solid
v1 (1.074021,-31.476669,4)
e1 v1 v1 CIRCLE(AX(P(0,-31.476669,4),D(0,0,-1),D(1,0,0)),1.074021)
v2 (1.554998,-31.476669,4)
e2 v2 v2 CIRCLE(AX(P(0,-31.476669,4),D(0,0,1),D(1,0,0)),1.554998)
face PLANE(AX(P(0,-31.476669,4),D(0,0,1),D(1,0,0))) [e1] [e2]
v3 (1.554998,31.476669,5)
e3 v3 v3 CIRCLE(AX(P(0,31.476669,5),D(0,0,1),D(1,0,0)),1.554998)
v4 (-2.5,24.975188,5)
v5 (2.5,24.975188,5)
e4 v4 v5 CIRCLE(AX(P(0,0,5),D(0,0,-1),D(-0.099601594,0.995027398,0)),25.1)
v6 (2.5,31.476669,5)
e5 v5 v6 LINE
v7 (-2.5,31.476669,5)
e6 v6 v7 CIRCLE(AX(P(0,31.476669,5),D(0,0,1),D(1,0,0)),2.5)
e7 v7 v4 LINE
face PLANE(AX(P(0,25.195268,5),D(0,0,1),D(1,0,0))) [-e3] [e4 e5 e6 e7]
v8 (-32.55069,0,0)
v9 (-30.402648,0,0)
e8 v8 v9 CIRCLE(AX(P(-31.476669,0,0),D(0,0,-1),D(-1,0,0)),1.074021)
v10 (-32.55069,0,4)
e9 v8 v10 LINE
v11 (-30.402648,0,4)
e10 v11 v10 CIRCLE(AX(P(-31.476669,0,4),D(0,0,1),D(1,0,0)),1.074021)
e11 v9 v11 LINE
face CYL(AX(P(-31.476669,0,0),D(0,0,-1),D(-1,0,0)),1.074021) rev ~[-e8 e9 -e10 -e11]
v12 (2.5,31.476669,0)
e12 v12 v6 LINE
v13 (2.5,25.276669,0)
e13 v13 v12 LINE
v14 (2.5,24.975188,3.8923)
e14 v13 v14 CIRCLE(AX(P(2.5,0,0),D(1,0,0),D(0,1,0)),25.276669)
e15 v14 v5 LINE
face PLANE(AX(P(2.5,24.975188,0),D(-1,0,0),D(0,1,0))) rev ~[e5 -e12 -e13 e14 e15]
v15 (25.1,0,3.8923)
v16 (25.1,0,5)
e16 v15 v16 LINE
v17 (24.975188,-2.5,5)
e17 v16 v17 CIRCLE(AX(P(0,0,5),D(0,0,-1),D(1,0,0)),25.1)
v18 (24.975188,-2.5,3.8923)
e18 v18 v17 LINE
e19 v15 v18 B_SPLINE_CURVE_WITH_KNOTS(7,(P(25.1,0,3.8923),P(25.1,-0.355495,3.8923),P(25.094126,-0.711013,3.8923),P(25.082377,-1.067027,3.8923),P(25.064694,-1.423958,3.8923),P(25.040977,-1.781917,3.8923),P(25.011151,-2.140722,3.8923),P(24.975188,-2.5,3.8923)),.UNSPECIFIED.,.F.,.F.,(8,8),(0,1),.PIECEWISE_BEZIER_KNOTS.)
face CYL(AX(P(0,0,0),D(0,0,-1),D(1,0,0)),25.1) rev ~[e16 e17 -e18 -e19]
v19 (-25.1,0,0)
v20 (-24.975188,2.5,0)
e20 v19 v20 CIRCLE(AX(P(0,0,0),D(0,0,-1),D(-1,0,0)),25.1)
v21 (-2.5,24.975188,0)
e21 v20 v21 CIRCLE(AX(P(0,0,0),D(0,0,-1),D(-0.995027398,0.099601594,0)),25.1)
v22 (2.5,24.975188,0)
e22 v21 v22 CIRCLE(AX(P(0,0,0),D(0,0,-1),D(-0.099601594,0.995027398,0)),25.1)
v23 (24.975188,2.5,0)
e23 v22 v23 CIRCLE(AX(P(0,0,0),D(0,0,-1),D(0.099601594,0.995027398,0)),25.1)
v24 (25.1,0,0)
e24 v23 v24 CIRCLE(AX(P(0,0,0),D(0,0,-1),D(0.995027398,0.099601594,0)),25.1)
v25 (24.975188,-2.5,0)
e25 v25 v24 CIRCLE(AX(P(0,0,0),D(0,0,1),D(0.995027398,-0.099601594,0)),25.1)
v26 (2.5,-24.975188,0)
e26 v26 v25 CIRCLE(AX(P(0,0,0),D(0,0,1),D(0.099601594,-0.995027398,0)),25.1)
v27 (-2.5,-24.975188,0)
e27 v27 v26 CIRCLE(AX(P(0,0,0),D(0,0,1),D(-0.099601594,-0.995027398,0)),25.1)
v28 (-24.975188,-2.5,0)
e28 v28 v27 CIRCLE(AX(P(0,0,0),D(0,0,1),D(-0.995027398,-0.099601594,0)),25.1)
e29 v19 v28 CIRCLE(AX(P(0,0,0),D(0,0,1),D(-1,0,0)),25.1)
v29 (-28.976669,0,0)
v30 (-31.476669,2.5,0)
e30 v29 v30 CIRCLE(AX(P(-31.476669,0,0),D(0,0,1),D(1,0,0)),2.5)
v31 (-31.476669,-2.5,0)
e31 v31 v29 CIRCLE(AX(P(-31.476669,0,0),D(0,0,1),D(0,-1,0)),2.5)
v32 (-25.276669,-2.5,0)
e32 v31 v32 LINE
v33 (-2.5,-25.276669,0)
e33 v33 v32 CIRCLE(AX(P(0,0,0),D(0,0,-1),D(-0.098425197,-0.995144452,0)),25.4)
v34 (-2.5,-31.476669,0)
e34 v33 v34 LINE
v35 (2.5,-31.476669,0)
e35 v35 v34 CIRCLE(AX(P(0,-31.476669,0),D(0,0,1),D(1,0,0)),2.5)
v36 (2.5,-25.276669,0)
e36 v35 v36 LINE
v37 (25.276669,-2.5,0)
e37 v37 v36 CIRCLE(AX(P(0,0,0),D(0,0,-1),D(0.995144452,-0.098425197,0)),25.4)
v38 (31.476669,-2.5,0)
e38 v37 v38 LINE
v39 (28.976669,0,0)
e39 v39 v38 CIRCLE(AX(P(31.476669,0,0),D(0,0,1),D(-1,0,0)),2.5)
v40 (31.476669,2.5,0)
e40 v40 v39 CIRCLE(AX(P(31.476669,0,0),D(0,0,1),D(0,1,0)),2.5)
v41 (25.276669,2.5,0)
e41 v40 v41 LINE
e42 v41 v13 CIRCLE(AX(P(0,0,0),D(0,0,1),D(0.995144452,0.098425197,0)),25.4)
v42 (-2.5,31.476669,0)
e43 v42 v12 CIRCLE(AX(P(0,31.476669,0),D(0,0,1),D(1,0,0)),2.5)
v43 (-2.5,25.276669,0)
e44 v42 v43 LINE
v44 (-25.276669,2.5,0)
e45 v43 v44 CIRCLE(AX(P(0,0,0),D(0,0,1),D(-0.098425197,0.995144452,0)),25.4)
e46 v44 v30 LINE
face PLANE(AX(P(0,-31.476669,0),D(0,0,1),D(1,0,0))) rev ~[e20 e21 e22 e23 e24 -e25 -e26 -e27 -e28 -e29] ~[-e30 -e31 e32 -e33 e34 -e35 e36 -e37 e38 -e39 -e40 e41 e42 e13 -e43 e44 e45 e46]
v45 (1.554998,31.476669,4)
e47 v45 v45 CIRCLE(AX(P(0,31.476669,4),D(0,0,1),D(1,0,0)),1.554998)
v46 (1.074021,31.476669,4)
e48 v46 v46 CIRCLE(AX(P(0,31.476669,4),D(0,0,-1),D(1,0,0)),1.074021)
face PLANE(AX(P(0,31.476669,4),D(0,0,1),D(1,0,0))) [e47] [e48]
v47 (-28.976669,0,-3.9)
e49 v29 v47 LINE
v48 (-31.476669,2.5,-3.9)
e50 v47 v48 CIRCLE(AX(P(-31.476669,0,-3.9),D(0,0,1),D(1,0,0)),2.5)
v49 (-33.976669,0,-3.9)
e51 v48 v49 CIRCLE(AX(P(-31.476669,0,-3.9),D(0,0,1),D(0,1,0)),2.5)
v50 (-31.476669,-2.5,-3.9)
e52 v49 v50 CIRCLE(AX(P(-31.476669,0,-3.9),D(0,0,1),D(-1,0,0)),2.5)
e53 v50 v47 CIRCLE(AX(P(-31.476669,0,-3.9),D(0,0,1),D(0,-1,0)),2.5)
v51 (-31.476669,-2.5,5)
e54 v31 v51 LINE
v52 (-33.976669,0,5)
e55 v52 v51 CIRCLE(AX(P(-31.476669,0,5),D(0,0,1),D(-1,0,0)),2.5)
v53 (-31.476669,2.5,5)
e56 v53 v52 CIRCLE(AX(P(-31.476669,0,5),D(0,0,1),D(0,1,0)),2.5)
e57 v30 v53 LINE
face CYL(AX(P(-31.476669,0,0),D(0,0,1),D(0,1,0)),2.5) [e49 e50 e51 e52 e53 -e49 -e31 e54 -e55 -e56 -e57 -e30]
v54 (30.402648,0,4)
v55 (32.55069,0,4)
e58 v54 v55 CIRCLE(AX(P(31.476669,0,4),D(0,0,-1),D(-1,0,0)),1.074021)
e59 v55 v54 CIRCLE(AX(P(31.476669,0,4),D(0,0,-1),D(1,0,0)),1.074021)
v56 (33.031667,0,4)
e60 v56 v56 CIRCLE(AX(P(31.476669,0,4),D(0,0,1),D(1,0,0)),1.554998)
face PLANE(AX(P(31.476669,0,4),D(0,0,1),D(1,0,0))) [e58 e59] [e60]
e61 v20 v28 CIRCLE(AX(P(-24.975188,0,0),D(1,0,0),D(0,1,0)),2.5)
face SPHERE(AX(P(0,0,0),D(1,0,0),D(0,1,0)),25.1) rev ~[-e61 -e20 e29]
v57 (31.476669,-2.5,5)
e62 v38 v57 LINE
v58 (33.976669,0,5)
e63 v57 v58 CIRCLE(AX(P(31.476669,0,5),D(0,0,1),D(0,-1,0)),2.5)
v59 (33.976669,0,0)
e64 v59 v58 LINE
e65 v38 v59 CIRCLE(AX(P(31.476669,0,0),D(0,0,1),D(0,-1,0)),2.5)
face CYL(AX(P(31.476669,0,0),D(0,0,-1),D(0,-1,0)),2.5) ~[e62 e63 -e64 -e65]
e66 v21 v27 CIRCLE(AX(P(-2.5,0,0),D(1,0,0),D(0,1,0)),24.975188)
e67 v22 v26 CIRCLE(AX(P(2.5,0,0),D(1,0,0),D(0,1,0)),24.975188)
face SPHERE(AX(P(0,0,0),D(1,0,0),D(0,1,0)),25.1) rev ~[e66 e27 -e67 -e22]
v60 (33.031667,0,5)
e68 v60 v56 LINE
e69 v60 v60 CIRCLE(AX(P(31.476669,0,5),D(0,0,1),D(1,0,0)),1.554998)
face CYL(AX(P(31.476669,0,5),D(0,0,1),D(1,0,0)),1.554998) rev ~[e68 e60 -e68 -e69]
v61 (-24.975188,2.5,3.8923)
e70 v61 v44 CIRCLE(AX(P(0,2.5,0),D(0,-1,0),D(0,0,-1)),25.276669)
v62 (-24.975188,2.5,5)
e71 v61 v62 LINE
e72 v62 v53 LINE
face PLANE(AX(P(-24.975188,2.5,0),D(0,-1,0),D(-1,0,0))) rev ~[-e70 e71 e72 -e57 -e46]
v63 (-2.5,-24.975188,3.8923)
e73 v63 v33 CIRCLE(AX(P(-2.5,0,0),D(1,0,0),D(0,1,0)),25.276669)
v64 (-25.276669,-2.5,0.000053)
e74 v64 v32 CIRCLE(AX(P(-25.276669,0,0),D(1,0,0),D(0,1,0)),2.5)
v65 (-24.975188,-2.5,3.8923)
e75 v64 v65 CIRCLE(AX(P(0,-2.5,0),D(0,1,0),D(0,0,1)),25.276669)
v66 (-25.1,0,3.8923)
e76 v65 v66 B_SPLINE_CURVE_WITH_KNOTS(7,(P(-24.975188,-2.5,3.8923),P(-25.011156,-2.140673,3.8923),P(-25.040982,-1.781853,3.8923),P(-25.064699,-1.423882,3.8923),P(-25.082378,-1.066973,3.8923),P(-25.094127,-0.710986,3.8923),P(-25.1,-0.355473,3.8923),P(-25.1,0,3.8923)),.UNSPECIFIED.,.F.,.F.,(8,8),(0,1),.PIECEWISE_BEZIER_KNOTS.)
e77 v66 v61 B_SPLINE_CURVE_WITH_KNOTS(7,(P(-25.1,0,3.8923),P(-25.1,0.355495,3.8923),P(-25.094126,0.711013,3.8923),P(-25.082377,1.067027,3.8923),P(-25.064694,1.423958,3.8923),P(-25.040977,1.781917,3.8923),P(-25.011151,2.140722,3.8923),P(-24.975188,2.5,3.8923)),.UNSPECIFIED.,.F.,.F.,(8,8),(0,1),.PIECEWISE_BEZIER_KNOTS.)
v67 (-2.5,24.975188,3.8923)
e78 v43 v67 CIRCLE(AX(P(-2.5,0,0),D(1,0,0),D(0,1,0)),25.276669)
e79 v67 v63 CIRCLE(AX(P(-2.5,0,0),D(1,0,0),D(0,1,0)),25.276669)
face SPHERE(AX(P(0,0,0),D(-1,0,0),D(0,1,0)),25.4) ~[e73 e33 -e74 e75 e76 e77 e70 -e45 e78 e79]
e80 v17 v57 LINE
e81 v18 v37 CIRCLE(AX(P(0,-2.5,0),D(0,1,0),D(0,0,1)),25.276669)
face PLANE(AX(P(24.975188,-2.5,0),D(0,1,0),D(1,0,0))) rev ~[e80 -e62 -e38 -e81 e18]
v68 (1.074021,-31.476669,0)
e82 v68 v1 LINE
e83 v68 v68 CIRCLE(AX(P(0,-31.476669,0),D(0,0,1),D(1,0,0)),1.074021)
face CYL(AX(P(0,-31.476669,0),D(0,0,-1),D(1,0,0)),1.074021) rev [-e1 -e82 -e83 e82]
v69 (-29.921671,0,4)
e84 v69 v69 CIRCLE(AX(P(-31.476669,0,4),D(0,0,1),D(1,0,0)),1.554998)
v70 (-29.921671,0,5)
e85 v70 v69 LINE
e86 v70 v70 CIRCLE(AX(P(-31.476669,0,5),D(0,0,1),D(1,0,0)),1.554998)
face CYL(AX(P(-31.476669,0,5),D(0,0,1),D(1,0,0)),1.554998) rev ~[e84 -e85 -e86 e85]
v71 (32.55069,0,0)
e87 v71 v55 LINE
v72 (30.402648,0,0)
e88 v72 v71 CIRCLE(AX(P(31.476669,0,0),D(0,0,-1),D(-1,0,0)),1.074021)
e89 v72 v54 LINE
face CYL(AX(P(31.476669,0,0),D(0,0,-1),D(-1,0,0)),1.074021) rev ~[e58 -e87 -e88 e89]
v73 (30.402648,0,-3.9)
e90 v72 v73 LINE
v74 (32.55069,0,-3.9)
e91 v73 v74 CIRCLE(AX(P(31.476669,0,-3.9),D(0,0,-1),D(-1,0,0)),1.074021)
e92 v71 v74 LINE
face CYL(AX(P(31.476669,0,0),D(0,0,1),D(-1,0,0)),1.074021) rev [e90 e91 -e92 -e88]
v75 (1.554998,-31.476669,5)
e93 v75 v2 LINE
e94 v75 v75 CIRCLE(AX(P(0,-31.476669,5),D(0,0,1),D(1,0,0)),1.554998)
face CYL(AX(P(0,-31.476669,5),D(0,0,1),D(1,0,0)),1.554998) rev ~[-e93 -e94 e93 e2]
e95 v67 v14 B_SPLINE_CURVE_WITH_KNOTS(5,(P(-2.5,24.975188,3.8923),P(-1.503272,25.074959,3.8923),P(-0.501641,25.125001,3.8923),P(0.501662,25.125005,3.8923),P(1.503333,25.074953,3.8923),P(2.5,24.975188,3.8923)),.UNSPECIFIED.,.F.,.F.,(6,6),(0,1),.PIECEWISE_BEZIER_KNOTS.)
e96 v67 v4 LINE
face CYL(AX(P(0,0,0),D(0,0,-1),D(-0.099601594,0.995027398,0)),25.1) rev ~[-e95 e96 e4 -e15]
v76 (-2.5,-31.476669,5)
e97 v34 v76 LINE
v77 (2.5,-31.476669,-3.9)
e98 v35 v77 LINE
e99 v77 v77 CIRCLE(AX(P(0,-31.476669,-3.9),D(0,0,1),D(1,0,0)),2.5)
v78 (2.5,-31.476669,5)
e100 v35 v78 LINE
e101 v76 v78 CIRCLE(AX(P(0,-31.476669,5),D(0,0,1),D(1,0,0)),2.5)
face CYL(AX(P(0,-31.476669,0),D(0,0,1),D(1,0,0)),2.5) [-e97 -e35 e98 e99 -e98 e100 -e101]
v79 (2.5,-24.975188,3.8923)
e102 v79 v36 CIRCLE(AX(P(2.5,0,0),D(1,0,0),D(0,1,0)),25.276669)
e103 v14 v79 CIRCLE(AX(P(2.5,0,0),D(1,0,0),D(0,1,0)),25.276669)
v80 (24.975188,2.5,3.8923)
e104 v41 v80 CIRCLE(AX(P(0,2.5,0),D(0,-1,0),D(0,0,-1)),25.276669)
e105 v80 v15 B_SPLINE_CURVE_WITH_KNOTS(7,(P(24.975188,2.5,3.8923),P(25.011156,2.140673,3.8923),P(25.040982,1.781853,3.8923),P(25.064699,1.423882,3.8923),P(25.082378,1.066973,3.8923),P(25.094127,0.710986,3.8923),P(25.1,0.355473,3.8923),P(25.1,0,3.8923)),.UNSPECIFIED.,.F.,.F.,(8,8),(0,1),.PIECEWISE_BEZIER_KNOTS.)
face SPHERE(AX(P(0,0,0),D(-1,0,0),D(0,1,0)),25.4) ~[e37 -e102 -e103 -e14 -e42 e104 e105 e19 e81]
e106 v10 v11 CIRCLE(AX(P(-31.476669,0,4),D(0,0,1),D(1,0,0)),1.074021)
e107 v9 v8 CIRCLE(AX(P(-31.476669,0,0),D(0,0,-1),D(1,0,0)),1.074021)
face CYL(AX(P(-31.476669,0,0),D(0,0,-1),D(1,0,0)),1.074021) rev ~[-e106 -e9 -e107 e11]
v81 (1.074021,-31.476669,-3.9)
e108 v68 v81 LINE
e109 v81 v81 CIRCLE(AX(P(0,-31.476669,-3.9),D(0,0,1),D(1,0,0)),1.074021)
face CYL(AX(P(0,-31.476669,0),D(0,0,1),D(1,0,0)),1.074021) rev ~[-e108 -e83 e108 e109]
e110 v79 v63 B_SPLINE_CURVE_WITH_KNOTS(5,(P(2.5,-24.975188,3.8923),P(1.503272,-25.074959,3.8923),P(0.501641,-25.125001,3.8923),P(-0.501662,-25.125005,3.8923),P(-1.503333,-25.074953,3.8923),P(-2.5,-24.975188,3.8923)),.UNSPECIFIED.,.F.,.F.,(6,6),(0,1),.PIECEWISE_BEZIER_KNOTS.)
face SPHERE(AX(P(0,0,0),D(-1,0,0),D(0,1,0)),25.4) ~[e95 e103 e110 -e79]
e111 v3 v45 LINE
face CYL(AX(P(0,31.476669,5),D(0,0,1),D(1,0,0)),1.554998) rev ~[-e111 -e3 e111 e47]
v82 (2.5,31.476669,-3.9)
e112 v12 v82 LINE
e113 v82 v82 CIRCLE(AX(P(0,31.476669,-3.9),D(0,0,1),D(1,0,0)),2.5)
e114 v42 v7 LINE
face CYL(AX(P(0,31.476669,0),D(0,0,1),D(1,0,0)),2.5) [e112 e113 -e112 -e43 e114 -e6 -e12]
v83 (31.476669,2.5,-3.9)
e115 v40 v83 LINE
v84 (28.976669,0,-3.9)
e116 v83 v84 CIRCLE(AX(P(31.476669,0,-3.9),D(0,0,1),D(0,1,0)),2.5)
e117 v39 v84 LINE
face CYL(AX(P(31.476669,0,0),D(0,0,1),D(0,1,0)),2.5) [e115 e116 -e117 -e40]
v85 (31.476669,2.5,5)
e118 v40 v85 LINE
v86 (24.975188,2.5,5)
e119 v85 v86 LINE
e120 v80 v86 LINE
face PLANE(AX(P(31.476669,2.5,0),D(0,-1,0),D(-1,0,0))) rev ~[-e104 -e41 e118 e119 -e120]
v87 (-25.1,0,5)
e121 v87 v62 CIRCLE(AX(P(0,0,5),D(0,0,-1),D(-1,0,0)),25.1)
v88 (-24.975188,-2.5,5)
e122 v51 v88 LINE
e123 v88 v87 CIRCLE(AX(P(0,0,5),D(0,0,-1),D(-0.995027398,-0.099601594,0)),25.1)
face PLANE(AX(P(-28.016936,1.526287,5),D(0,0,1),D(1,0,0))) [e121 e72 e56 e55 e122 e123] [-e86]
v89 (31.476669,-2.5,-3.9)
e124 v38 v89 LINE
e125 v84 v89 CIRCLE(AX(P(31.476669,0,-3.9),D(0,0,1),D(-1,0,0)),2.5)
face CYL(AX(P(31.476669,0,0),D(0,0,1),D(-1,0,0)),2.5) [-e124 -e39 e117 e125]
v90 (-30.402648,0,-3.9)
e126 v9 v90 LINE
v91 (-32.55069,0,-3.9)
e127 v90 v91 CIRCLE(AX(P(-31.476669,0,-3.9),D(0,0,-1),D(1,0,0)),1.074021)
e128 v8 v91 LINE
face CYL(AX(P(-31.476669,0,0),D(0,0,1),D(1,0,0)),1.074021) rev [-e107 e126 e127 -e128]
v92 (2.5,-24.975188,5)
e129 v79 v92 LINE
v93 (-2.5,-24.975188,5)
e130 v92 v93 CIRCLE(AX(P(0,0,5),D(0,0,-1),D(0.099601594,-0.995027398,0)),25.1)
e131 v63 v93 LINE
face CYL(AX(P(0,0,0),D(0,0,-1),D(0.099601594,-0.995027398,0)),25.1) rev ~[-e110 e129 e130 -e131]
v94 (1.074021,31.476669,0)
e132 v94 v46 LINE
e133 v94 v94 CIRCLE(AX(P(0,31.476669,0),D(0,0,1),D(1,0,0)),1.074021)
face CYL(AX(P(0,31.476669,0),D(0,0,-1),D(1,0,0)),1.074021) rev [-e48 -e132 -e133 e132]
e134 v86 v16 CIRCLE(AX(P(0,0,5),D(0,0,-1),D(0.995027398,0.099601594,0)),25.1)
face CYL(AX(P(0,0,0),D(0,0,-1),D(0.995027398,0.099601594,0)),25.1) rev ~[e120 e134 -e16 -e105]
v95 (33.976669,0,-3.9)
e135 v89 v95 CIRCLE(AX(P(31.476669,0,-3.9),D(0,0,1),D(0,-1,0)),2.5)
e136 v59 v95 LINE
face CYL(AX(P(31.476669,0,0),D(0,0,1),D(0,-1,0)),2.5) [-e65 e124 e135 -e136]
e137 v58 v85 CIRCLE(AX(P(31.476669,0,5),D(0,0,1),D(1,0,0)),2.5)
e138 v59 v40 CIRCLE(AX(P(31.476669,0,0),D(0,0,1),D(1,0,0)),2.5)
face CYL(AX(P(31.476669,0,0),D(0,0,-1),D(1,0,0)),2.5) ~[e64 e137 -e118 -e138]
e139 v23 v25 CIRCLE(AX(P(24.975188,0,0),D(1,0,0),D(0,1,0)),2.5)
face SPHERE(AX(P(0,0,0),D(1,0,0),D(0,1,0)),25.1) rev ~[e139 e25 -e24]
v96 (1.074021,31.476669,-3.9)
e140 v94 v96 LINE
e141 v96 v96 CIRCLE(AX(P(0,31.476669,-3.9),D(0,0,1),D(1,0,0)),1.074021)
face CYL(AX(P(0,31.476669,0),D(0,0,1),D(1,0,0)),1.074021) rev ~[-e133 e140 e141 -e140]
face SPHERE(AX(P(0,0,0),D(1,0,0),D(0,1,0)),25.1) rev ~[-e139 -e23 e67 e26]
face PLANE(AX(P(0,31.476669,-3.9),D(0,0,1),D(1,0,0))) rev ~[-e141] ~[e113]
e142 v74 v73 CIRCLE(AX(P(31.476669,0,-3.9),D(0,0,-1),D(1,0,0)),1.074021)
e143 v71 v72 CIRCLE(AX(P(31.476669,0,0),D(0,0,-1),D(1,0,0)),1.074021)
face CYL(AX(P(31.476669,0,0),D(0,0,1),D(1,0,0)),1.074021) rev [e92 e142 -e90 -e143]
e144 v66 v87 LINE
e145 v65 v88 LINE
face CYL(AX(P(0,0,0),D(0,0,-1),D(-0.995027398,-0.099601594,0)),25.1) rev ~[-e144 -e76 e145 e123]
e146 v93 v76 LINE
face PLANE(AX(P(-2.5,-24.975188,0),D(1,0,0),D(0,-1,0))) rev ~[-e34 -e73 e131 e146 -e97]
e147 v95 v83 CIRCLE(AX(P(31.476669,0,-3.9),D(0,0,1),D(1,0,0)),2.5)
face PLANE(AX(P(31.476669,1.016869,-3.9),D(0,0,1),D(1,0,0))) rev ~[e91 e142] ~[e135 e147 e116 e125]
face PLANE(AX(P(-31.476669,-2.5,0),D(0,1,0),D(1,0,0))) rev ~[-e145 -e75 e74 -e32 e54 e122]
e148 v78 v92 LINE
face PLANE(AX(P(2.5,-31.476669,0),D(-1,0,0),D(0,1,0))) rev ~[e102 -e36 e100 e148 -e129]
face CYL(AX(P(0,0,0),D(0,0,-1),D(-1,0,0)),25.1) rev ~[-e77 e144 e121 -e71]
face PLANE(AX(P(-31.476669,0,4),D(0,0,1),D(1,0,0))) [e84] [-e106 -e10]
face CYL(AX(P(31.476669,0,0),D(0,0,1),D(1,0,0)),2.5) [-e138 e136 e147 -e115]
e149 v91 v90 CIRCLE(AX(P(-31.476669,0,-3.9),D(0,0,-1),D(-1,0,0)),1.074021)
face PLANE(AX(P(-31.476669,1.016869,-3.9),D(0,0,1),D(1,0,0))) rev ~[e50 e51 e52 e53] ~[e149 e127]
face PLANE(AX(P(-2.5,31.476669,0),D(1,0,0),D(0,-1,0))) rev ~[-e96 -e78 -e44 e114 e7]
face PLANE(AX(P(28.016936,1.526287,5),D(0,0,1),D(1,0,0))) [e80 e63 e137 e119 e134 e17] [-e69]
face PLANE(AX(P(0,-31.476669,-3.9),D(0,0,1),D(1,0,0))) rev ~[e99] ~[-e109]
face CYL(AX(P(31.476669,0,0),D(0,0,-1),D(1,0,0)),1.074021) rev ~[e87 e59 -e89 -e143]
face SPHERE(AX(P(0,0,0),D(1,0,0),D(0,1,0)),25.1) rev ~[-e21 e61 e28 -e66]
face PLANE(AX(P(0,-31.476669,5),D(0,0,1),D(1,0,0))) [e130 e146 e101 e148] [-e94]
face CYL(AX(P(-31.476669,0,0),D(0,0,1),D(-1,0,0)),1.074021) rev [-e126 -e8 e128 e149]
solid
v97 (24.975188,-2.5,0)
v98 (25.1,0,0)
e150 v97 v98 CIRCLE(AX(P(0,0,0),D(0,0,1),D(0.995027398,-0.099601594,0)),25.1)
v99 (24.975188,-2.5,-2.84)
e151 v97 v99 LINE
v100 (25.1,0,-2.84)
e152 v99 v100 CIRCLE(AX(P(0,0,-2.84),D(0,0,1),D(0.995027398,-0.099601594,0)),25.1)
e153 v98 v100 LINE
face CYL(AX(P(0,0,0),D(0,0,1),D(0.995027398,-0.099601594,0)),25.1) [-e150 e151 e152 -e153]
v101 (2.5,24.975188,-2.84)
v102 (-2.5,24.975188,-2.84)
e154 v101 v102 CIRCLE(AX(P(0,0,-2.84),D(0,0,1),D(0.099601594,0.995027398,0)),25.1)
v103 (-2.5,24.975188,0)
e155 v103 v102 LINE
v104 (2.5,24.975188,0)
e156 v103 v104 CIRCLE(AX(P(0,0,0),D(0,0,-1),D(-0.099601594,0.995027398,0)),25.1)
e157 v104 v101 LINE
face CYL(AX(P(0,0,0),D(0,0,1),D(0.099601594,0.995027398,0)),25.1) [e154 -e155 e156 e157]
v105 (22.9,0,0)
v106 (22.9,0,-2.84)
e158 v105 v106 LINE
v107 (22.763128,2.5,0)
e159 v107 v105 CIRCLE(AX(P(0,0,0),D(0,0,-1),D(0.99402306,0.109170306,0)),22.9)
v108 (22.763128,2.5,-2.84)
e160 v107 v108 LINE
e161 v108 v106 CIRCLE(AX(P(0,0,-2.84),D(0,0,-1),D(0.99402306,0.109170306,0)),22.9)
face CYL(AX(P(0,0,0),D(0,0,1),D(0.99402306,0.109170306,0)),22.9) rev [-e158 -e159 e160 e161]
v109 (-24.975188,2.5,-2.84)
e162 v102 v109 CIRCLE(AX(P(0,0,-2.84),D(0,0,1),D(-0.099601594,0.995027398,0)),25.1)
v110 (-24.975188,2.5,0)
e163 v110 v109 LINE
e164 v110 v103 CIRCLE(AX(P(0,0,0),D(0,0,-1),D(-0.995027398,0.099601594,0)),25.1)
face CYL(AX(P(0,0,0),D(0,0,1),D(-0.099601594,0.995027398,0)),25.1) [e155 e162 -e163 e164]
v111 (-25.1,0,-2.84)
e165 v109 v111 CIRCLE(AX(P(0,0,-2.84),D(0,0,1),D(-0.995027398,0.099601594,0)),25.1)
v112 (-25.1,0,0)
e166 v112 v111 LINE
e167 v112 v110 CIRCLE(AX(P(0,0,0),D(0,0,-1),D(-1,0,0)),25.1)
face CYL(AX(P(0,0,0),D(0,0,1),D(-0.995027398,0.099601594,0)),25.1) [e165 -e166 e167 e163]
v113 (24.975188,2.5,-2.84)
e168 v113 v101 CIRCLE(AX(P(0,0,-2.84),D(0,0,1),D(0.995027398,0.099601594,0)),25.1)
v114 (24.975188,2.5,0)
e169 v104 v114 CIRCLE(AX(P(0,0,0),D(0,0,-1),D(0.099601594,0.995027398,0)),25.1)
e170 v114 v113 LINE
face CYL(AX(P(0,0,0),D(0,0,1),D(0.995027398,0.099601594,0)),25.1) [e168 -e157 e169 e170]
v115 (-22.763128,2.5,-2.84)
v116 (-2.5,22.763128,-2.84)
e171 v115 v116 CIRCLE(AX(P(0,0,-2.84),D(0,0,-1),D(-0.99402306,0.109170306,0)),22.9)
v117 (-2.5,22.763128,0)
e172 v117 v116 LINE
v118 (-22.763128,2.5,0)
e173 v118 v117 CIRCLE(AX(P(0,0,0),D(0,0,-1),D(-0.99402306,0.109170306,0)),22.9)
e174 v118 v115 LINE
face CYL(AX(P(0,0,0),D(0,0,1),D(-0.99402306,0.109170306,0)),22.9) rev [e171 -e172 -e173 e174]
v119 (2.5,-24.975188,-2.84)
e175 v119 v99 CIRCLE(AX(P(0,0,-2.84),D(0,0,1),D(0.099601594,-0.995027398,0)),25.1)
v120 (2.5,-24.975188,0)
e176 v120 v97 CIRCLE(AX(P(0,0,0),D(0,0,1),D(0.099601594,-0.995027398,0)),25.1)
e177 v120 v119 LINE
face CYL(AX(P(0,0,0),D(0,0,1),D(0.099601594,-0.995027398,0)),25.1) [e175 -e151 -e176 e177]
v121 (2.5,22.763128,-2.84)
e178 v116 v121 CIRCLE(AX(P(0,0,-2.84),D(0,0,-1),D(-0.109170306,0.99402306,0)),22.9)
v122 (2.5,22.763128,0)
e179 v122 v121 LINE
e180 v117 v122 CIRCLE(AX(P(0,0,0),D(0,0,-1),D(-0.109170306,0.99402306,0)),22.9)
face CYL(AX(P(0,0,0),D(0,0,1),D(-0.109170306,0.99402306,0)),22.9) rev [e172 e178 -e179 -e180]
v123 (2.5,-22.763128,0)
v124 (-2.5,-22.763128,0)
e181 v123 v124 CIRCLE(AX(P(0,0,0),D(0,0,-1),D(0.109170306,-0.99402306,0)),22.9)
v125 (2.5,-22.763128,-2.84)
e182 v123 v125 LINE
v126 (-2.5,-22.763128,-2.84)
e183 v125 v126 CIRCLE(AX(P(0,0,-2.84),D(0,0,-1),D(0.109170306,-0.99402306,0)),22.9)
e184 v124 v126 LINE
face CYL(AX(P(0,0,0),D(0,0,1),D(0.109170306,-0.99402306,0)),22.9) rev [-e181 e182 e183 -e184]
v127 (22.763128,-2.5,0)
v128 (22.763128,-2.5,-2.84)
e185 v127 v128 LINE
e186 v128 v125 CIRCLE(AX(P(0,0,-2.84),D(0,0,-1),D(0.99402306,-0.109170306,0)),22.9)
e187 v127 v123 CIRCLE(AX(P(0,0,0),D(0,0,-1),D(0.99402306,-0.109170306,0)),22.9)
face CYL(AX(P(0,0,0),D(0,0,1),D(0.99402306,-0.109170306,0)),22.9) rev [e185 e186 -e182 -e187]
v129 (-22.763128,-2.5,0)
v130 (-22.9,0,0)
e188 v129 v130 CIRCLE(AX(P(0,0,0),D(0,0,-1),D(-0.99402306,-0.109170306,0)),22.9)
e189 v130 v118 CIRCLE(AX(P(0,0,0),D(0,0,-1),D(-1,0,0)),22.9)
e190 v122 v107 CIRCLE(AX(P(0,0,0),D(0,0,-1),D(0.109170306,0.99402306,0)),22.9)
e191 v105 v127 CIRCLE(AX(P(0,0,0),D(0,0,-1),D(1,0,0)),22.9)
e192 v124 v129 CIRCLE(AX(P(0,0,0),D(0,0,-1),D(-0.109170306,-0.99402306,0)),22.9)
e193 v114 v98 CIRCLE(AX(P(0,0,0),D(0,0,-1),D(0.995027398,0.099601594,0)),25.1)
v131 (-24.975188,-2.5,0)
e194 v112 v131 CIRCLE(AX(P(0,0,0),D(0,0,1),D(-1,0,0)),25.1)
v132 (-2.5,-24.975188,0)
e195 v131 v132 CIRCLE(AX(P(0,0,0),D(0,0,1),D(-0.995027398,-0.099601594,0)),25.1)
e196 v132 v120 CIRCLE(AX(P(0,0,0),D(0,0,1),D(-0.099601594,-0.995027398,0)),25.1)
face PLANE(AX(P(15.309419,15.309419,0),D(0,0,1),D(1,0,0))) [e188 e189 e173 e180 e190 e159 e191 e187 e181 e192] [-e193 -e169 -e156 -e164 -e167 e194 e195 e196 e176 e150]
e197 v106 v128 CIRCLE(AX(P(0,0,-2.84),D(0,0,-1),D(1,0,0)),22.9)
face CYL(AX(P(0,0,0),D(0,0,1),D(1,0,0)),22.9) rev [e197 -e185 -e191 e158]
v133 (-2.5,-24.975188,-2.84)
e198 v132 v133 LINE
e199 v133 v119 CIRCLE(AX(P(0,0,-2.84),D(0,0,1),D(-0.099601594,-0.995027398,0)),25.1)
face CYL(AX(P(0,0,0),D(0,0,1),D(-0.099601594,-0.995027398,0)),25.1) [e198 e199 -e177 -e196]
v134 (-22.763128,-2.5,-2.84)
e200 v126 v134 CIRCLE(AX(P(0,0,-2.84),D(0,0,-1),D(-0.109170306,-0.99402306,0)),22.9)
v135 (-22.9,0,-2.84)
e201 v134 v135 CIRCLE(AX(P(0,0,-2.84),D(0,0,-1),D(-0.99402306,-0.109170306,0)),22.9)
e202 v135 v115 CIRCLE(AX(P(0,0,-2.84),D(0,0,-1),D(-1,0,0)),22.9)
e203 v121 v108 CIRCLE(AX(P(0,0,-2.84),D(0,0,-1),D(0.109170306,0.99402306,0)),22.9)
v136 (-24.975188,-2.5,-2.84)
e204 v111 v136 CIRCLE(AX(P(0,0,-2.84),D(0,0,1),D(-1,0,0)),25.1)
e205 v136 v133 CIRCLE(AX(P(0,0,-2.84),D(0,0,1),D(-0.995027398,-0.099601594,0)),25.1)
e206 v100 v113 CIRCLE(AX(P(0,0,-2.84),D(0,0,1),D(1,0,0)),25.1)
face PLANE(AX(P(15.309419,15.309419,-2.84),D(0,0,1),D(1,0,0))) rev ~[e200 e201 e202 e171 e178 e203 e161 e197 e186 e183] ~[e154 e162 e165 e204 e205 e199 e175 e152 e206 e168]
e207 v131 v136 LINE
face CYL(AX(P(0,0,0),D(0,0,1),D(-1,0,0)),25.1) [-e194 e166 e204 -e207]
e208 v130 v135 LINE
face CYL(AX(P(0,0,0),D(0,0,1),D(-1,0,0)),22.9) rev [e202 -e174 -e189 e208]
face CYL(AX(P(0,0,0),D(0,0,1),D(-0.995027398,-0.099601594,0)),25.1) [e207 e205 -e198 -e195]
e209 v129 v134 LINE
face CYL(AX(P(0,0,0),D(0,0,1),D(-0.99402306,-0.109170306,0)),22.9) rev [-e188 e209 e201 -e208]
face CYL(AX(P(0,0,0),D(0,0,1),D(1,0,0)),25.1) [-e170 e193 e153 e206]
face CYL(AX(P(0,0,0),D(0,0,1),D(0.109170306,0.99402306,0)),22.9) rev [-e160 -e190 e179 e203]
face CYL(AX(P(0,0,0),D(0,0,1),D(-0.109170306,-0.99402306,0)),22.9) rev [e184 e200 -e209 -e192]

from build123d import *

# Parameters (mm, degrees)
F1_ANGLE = 180
F2_DEPTH = 5
F0_R     = 1.0740208256
F3_DEPTH = 2.84
F4_DEPTH = 3.9
F5_R     = 1.5549983164
F5_R_2   = 1.0740208256
F6_DEPTH = 1


with BuildPart() as f1:
    # F0 (on Top) → F1 (revolve)
    with BuildSketch(Plane.XY):
        with BuildLine():
            Line((24.975187687, 2.5), (25.2766690844, 2.5))
            ThreePointArc((25.2766690844, 2.5), (17.9605122421, 17.9605122421), (2.5, 25.2766690844))
            Line((2.5, 25.2766690844), (2.5, 24.975187687))
            ThreePointArc((2.5, 24.975187687), (17.7483802078, 17.7483802078), (24.975187687, 2.5))
        make_face()
        with BuildLine():
            Line((25.1, 0), (25.4, 0))
            ThreePointArc((25.4, 0), (25.3691485346, 1.2515201272), (25.2766690844, 2.5))
            Line((25.2766690844, 2.5), (24.975187687, 2.5))
            ThreePointArc((24.975187687, 2.5), (25.0687775025, 1.2515568418), (25.1, 0))
        make_face()
        with BuildLine():
            Line((2.5, 24.975187687), (2.5, 25.2766690844))
            ThreePointArc((2.5, 25.2766690844), (0, 25.4), (-2.5, 25.2766690844))
            Line((-2.5, 25.2766690844), (-2.5, 24.975187687))
            ThreePointArc((-2.5, 24.975187687), (0, 25.1), (2.5, 24.975187687))
        make_face()
        with BuildLine():
            Line((-2.5, 24.975187687), (-2.5, 25.2766690844))
            ThreePointArc((-2.5, 25.2766690844), (-17.9605122421, 17.9605122421), (-25.2766690844, 2.5))
            Line((-25.2766690844, 2.5), (-24.975187687, 2.5))
            ThreePointArc((-24.975187687, 2.5), (-17.7483802078, 17.7483802078), (-2.5, 24.975187687))
        make_face()
        with BuildLine():
            Line((-24.975187687, 2.5), (-25.2766690844, 2.5))
            ThreePointArc((-25.2766690844, 2.5), (-25.3691485346, 1.2515201272), (-25.4, 0))
            Line((-25.4, 0), (-25.1, 0))
            ThreePointArc((-25.1, 0), (-25.0687775025, 1.2515568418), (-24.975187687, 2.5))
        make_face()
    revolve(axis=Axis((0.945251435, 0, 0), (1, 0, 0)), revolution_arc=F1_ANGLE)



with BuildPart() as f2:
    # F0 (on Top) → F2 (new body)
    with BuildSketch(Plane.XY):
        with BuildLine():
            ThreePointArc((25.2766690844, 2.5), (25.3691485346, 1.2515201272), (25.4, 0))
            Line((25.4, 0), (28.9766690844, 0))
            ThreePointArc((28.9766690844, 0), (29.7089021314, 1.767766953), (31.4766690844, 2.5))
            Line((31.4766690844, 2.5), (25.2766690844, 2.5))
        make_face()
        with BuildLine():
            Line((28.9766690844, 0), (25.4, 0))
            ThreePointArc((25.4, 0), (25.3691485346, -1.2515201272), (25.2766690844, -2.5))
            Line((25.2766690844, -2.5), (31.4766690844, -2.5))
            ThreePointArc((31.4766690844, -2.5), (29.7089021314, -1.767766953), (28.9766690844, 0))
        make_face()
        with BuildLine():
            ThreePointArc((31.4766690844, 2.5), (29.7089021314, 1.767766953), (28.9766690844, 0))
            Line((28.9766690844, 0), (30.4026482587, 0))
            ThreePointArc((30.4026482587, 0), (31.4766690844, 1.0740208256), (32.55068991, 0))
            Line((32.55068991, 0), (33.9766690844, 0))
            ThreePointArc((33.9766690844, 0), (33.2444360373, 1.767766953), (31.4766690844, 2.5))
        make_face()
        with BuildLine():
            Line((30.4026482587, 0), (28.9766690844, 0))
            ThreePointArc((28.9766690844, 0), (29.7089021314, -1.767766953), (31.4766690844, -2.5))
            ThreePointArc((31.4766690844, -2.5), (33.2444360373, -1.767766953), (33.9766690844, 0))
            Line((33.9766690844, 0), (32.55068991, 0))
            ThreePointArc((32.55068991, 0), (31.4766690844, -1.0740208256), (30.4026482587, 0))
        make_face()
        with BuildLine():
            Line((25.1, 0), (25.4, 0))
            ThreePointArc((25.4, 0), (25.3691485346, 1.2515201272), (25.2766690844, 2.5))
            Line((25.2766690844, 2.5), (24.975187687, 2.5))
            ThreePointArc((24.975187687, 2.5), (25.0687775025, 1.2515568418), (25.1, 0))
        make_face()
        with BuildLine():
            ThreePointArc((25.2766690844, -2.5), (25.3691485346, -1.2515201272), (25.4, 0))
            Line((25.4, 0), (25.1, 0))
            ThreePointArc((25.1, 0), (25.0687775025, -1.2515568418), (24.975187687, -2.5))
            Line((24.975187687, -2.5), (25.2766690844, -2.5))
        make_face()
    extrude(amount=F2_DEPTH)


with BuildPart() as f2b:
    # F0 (on Top) → F2, piece 2 (new body)
    with BuildSketch(Plane.XY):
        with BuildLine():
            Line((2.5, 24.975187687), (2.5, 25.2766690844))
            ThreePointArc((2.5, 25.2766690844), (0, 25.4), (-2.5, 25.2766690844))
            Line((-2.5, 25.2766690844), (-2.5, 24.975187687))
            ThreePointArc((-2.5, 24.975187687), (0, 25.1), (2.5, 24.975187687))
        make_face()
        with BuildLine():
            ThreePointArc((-2.5, 25.2766690844), (0, 25.4), (2.5, 25.2766690844))
            Line((2.5, 25.2766690844), (2.5, 31.4766690844))
            ThreePointArc((2.5, 31.4766690844), (0, 28.9766690844), (-2.5, 31.4766690844))
            Line((-2.5, 31.4766690844), (-2.5, 25.2766690844))
        make_face()
        with BuildLine():
            ThreePointArc((-2.5, 31.4766690844), (0, 28.9766690844), (2.5, 31.4766690844))
            ThreePointArc((2.5, 31.4766690844), (0, 33.9766690844), (-2.5, 31.4766690844))
        make_face()
        with Locations((0, 31.4766690844)):
            Circle(F0_R, mode=Mode.SUBTRACT)
    extrude(amount=F2_DEPTH)


with BuildPart() as f2c:
    # F0 (on Top) → F2, piece 3 (new body)
    with BuildSketch(Plane.XY):
        with BuildLine():
            ThreePointArc((-25.4, 0), (-25.3691485346, 1.2515201272), (-25.2766690844, 2.5))
            Line((-25.2766690844, 2.5), (-31.4766690844, 2.5))
            ThreePointArc((-31.4766690844, 2.5), (-29.7089021314, 1.767766953), (-28.9766690844, 0))
            Line((-28.9766690844, 0), (-25.4, 0))
        make_face()
        with BuildLine():
            ThreePointArc((-28.9766690844, 0), (-29.7089021314, 1.767766953), (-31.4766690844, 2.5))
            ThreePointArc((-31.4766690844, 2.5), (-33.2444360373, 1.767766953), (-33.9766690844, 0))
            Line((-33.9766690844, 0), (-32.55068991, 0))
            ThreePointArc((-32.55068991, 0), (-31.4766690844, 1.0740208256), (-30.4026482587, 0))
            Line((-30.4026482587, 0), (-28.9766690844, 0))
        make_face()
        with BuildLine():
            ThreePointArc((-33.9766690844, 0), (-33.2444360373, -1.767766953), (-31.4766690844, -2.5))
            ThreePointArc((-31.4766690844, -2.5), (-29.7089021314, -1.767766953), (-28.9766690844, 0))
            Line((-28.9766690844, 0), (-30.4026482587, 0))
            ThreePointArc((-30.4026482587, 0), (-31.4766690844, -1.0740208256), (-32.55068991, 0))
            Line((-32.55068991, 0), (-33.9766690844, 0))
        make_face()
        with BuildLine():
            Line((-31.4766690844, -2.5), (-25.2766690844, -2.5))
            ThreePointArc((-25.2766690844, -2.5), (-25.3691485346, -1.2515201272), (-25.4, 0))
            Line((-25.4, 0), (-28.9766690844, 0))
            ThreePointArc((-28.9766690844, 0), (-29.7089021314, -1.767766953), (-31.4766690844, -2.5))
        make_face()
        with BuildLine():
            ThreePointArc((-25.4, 0), (-25.3691485346, -1.2515201272), (-25.2766690844, -2.5))
            Line((-25.2766690844, -2.5), (-24.975187687, -2.5))
            ThreePointArc((-24.975187687, -2.5), (-25.0687775025, -1.2515568418), (-25.1, 0))
            Line((-25.1, 0), (-25.4, 0))
        make_face()
        with BuildLine():
            Line((-24.975187687, 2.5), (-25.2766690844, 2.5))
            ThreePointArc((-25.2766690844, 2.5), (-25.3691485346, 1.2515201272), (-25.4, 0))
            Line((-25.4, 0), (-25.1, 0))
            ThreePointArc((-25.1, 0), (-25.0687775025, 1.2515568418), (-24.975187687, 2.5))
        make_face()
    extrude(amount=F2_DEPTH)


with BuildPart() as f2d:
    # F0 (on Top) → F2, piece 4 (new body)
    with BuildSketch(Plane.XY):
        with BuildLine():
            ThreePointArc((-2.5, -31.4766690844), (0, -33.9766690844), (2.5, -31.4766690844))
            ThreePointArc((2.5, -31.4766690844), (0, -28.9766690844), (-2.5, -31.4766690844))
        make_face()
        with Locations((0, -31.4766690844)):
            Circle(F0_R, mode=Mode.SUBTRACT)
        with BuildLine():
            Line((2.5, -31.4766690844), (2.5, -25.2766690844))
            ThreePointArc((2.5, -25.2766690844), (0, -25.4), (-2.5, -25.2766690844))
            Line((-2.5, -25.2766690844), (-2.5, -31.4766690844))
            ThreePointArc((-2.5, -31.4766690844), (0, -28.9766690844), (2.5, -31.4766690844))
        make_face()
        with BuildLine():
            ThreePointArc((-2.5, -25.2766690844), (0, -25.4), (2.5, -25.2766690844))
            Line((2.5, -25.2766690844), (2.5, -24.975187687))
            ThreePointArc((2.5, -24.975187687), (0, -25.1), (-2.5, -24.975187687))
            Line((-2.5, -24.975187687), (-2.5, -25.2766690844))
        make_face()
    extrude(amount=F2_DEPTH)


with BuildPart() as f1_1:
    add(f1.part)

    add(f2.part)  # F3 merges F2

    add(f2b.part)  # F3 merges F2b

    add(f2c.part)  # F3 merges F2c

    add(f2d.part)  # F3 merges F2d
    # F0 (on Top) → F3 (join)
    with BuildSketch(Plane.XY):
        with BuildLine():
            Line((22.7631280803, 2.5), (24.975187687, 2.5))
            ThreePointArc((24.975187687, 2.5), (17.7483802078, 17.7483802078), (2.5, 24.975187687))
            Line((2.5, 24.975187687), (2.5, 22.7631280803))
            ThreePointArc((2.5, 22.7631280803), (16.1927452892, 16.1927452892), (22.7631280803, 2.5))
        make_face()
        with BuildLine():
            Line((22.9, 0), (25.1, 0))
            ThreePointArc((25.1, 0), (25.0687775025, 1.2515568418), (24.975187687, 2.5))
            Line((24.975187687, 2.5), (22.7631280803, 2.5))
            ThreePointArc((22.7631280803, 2.5), (22.865756417, 1.2518719905), (22.9, 0))
        make_face()
        with BuildLine():
            ThreePointArc((24.975187687, -2.5), (25.0687775025, -1.2515568418), (25.1, 0))
            Line((25.1, 0), (22.9, 0))
            ThreePointArc((22.9, 0), (22.865756417, -1.2518719905), (22.7631280803, -2.5))
            Line((22.7631280803, -2.5), (24.975187687, -2.5))
        make_face()
        with BuildLine():
            ThreePointArc((2.5, -24.975187687), (17.7483802078, -17.7483802078), (24.975187687, -2.5))
            Line((24.975187687, -2.5), (22.7631280803, -2.5))
            ThreePointArc((22.7631280803, -2.5), (16.1927452892, -16.1927452892), (2.5, -22.7631280803))
            Line((2.5, -22.7631280803), (2.5, -24.975187687))
        make_face()
        with BuildLine():
            ThreePointArc((-2.5, -24.975187687), (0, -25.1), (2.5, -24.975187687))
            Line((2.5, -24.975187687), (2.5, -22.7631280803))
            ThreePointArc((2.5, -22.7631280803), (0, -22.9), (-2.5, -22.7631280803))
            Line((-2.5, -22.7631280803), (-2.5, -24.975187687))
        make_face()
        with BuildLine():
            ThreePointArc((-24.975187687, -2.5), (-17.7483802078, -17.7483802078), (-2.5, -24.975187687))
            Line((-2.5, -24.975187687), (-2.5, -22.7631280803))
            ThreePointArc((-2.5, -22.7631280803), (-16.1927452892, -16.1927452892), (-22.7631280803, -2.5))
            Line((-22.7631280803, -2.5), (-24.975187687, -2.5))
        make_face()
        with BuildLine():
            ThreePointArc((-25.1, 0), (-25.0687775025, -1.2515568418), (-24.975187687, -2.5))
            Line((-24.975187687, -2.5), (-22.7631280803, -2.5))
            ThreePointArc((-22.7631280803, -2.5), (-22.865756417, -1.2518719905), (-22.9, 0))
            Line((-22.9, 0), (-25.1, 0))
        make_face()
        with BuildLine():
            Line((-22.7631280803, 2.5), (-24.975187687, 2.5))
            ThreePointArc((-24.975187687, 2.5), (-25.0687775025, 1.2515568418), (-25.1, 0))
            Line((-25.1, 0), (-22.9, 0))
            ThreePointArc((-22.9, 0), (-22.865756417, 1.2518719905), (-22.7631280803, 2.5))
        make_face()
        with BuildLine():
            Line((-2.5, 22.7631280803), (-2.5, 24.975187687))
            ThreePointArc((-2.5, 24.975187687), (-17.7483802078, 17.7483802078), (-24.975187687, 2.5))
            Line((-24.975187687, 2.5), (-22.7631280803, 2.5))
            ThreePointArc((-22.7631280803, 2.5), (-16.1927452892, 16.1927452892), (-2.5, 22.7631280803))
        make_face()
        with BuildLine():
            Line((2.5, 22.7631280803), (2.5, 24.975187687))
            ThreePointArc((2.5, 24.975187687), (0, 25.1), (-2.5, 24.975187687))
            Line((-2.5, 24.975187687), (-2.5, 22.7631280803))
            ThreePointArc((-2.5, 22.7631280803), (0, 22.9), (2.5, 22.7631280803))
        make_face()
    extrude(amount=-F3_DEPTH)

    # F0 (on Top) → F4 (join)
    with BuildSketch(Plane.XY):
        with BuildLine():
            ThreePointArc((-28.9766690844, 0), (-29.7089021314, 1.767766953), (-31.4766690844, 2.5))
            ThreePointArc((-31.4766690844, 2.5), (-33.2444360373, 1.767766953), (-33.9766690844, 0))
            Line((-33.9766690844, 0), (-32.55068991, 0))
            ThreePointArc((-32.55068991, 0), (-31.4766690844, 1.0740208256), (-30.4026482587, 0))
            Line((-30.4026482587, 0), (-28.9766690844, 0))
        make_face()
        with BuildLine():
            ThreePointArc((-33.9766690844, 0), (-33.2444360373, -1.767766953), (-31.4766690844, -2.5))
            ThreePointArc((-31.4766690844, -2.5), (-29.7089021314, -1.767766953), (-28.9766690844, 0))
            Line((-28.9766690844, 0), (-30.4026482587, 0))
            ThreePointArc((-30.4026482587, 0), (-31.4766690844, -1.0740208256), (-32.55068991, 0))
            Line((-32.55068991, 0), (-33.9766690844, 0))
        make_face()
        with BuildLine():
            ThreePointArc((-2.5, -31.4766690844), (0, -33.9766690844), (2.5, -31.4766690844))
            ThreePointArc((2.5, -31.4766690844), (0, -28.9766690844), (-2.5, -31.4766690844))
        make_face()
        with Locations((0, -31.4766690844)):
            Circle(F0_R, mode=Mode.SUBTRACT)
        with BuildLine():
            ThreePointArc((-2.5, 31.4766690844), (0, 28.9766690844), (2.5, 31.4766690844))
            ThreePointArc((2.5, 31.4766690844), (0, 33.9766690844), (-2.5, 31.4766690844))
        make_face()
        with Locations((0, 31.4766690844)):
            Circle(F0_R, mode=Mode.SUBTRACT)
        with BuildLine():
            ThreePointArc((31.4766690844, 2.5), (29.7089021314, 1.767766953), (28.9766690844, 0))
            Line((28.9766690844, 0), (30.4026482587, 0))
            ThreePointArc((30.4026482587, 0), (31.4766690844, 1.0740208256), (32.55068991, 0))
            Line((32.55068991, 0), (33.9766690844, 0))
            ThreePointArc((33.9766690844, 0), (33.2444360373, 1.767766953), (31.4766690844, 2.5))
        make_face()
        with BuildLine():
            Line((30.4026482587, 0), (28.9766690844, 0))
            ThreePointArc((28.9766690844, 0), (29.7089021314, -1.767766953), (31.4766690844, -2.5))
            ThreePointArc((31.4766690844, -2.5), (33.2444360373, -1.767766953), (33.9766690844, 0))
            Line((33.9766690844, 0), (32.55068991, 0))
            ThreePointArc((32.55068991, 0), (31.4766690844, -1.0740208256), (30.4026482587, 0))
        make_face()
    extrude(amount=-F4_DEPTH)

    # F5 (on face) → F6 (cut)
    with BuildSketch(Plane.XY.offset(5)):
        with Locations((0, -31.4766690844)):
            Circle(F5_R)
        with Locations((-31.4766690844, 0)):
            Circle(F5_R)
        with Locations((-31.4766690844, 0)):
            Circle(F5_R_2, mode=Mode.SUBTRACT)
        with Locations((0, 31.4766690844)):
            Circle(F5_R)
        with Locations((31.4766690844, 0)):
            Circle(F5_R)
    extrude(amount=-F6_DEPTH, mode=Mode.SUBTRACT)


solid = f1_1.part
